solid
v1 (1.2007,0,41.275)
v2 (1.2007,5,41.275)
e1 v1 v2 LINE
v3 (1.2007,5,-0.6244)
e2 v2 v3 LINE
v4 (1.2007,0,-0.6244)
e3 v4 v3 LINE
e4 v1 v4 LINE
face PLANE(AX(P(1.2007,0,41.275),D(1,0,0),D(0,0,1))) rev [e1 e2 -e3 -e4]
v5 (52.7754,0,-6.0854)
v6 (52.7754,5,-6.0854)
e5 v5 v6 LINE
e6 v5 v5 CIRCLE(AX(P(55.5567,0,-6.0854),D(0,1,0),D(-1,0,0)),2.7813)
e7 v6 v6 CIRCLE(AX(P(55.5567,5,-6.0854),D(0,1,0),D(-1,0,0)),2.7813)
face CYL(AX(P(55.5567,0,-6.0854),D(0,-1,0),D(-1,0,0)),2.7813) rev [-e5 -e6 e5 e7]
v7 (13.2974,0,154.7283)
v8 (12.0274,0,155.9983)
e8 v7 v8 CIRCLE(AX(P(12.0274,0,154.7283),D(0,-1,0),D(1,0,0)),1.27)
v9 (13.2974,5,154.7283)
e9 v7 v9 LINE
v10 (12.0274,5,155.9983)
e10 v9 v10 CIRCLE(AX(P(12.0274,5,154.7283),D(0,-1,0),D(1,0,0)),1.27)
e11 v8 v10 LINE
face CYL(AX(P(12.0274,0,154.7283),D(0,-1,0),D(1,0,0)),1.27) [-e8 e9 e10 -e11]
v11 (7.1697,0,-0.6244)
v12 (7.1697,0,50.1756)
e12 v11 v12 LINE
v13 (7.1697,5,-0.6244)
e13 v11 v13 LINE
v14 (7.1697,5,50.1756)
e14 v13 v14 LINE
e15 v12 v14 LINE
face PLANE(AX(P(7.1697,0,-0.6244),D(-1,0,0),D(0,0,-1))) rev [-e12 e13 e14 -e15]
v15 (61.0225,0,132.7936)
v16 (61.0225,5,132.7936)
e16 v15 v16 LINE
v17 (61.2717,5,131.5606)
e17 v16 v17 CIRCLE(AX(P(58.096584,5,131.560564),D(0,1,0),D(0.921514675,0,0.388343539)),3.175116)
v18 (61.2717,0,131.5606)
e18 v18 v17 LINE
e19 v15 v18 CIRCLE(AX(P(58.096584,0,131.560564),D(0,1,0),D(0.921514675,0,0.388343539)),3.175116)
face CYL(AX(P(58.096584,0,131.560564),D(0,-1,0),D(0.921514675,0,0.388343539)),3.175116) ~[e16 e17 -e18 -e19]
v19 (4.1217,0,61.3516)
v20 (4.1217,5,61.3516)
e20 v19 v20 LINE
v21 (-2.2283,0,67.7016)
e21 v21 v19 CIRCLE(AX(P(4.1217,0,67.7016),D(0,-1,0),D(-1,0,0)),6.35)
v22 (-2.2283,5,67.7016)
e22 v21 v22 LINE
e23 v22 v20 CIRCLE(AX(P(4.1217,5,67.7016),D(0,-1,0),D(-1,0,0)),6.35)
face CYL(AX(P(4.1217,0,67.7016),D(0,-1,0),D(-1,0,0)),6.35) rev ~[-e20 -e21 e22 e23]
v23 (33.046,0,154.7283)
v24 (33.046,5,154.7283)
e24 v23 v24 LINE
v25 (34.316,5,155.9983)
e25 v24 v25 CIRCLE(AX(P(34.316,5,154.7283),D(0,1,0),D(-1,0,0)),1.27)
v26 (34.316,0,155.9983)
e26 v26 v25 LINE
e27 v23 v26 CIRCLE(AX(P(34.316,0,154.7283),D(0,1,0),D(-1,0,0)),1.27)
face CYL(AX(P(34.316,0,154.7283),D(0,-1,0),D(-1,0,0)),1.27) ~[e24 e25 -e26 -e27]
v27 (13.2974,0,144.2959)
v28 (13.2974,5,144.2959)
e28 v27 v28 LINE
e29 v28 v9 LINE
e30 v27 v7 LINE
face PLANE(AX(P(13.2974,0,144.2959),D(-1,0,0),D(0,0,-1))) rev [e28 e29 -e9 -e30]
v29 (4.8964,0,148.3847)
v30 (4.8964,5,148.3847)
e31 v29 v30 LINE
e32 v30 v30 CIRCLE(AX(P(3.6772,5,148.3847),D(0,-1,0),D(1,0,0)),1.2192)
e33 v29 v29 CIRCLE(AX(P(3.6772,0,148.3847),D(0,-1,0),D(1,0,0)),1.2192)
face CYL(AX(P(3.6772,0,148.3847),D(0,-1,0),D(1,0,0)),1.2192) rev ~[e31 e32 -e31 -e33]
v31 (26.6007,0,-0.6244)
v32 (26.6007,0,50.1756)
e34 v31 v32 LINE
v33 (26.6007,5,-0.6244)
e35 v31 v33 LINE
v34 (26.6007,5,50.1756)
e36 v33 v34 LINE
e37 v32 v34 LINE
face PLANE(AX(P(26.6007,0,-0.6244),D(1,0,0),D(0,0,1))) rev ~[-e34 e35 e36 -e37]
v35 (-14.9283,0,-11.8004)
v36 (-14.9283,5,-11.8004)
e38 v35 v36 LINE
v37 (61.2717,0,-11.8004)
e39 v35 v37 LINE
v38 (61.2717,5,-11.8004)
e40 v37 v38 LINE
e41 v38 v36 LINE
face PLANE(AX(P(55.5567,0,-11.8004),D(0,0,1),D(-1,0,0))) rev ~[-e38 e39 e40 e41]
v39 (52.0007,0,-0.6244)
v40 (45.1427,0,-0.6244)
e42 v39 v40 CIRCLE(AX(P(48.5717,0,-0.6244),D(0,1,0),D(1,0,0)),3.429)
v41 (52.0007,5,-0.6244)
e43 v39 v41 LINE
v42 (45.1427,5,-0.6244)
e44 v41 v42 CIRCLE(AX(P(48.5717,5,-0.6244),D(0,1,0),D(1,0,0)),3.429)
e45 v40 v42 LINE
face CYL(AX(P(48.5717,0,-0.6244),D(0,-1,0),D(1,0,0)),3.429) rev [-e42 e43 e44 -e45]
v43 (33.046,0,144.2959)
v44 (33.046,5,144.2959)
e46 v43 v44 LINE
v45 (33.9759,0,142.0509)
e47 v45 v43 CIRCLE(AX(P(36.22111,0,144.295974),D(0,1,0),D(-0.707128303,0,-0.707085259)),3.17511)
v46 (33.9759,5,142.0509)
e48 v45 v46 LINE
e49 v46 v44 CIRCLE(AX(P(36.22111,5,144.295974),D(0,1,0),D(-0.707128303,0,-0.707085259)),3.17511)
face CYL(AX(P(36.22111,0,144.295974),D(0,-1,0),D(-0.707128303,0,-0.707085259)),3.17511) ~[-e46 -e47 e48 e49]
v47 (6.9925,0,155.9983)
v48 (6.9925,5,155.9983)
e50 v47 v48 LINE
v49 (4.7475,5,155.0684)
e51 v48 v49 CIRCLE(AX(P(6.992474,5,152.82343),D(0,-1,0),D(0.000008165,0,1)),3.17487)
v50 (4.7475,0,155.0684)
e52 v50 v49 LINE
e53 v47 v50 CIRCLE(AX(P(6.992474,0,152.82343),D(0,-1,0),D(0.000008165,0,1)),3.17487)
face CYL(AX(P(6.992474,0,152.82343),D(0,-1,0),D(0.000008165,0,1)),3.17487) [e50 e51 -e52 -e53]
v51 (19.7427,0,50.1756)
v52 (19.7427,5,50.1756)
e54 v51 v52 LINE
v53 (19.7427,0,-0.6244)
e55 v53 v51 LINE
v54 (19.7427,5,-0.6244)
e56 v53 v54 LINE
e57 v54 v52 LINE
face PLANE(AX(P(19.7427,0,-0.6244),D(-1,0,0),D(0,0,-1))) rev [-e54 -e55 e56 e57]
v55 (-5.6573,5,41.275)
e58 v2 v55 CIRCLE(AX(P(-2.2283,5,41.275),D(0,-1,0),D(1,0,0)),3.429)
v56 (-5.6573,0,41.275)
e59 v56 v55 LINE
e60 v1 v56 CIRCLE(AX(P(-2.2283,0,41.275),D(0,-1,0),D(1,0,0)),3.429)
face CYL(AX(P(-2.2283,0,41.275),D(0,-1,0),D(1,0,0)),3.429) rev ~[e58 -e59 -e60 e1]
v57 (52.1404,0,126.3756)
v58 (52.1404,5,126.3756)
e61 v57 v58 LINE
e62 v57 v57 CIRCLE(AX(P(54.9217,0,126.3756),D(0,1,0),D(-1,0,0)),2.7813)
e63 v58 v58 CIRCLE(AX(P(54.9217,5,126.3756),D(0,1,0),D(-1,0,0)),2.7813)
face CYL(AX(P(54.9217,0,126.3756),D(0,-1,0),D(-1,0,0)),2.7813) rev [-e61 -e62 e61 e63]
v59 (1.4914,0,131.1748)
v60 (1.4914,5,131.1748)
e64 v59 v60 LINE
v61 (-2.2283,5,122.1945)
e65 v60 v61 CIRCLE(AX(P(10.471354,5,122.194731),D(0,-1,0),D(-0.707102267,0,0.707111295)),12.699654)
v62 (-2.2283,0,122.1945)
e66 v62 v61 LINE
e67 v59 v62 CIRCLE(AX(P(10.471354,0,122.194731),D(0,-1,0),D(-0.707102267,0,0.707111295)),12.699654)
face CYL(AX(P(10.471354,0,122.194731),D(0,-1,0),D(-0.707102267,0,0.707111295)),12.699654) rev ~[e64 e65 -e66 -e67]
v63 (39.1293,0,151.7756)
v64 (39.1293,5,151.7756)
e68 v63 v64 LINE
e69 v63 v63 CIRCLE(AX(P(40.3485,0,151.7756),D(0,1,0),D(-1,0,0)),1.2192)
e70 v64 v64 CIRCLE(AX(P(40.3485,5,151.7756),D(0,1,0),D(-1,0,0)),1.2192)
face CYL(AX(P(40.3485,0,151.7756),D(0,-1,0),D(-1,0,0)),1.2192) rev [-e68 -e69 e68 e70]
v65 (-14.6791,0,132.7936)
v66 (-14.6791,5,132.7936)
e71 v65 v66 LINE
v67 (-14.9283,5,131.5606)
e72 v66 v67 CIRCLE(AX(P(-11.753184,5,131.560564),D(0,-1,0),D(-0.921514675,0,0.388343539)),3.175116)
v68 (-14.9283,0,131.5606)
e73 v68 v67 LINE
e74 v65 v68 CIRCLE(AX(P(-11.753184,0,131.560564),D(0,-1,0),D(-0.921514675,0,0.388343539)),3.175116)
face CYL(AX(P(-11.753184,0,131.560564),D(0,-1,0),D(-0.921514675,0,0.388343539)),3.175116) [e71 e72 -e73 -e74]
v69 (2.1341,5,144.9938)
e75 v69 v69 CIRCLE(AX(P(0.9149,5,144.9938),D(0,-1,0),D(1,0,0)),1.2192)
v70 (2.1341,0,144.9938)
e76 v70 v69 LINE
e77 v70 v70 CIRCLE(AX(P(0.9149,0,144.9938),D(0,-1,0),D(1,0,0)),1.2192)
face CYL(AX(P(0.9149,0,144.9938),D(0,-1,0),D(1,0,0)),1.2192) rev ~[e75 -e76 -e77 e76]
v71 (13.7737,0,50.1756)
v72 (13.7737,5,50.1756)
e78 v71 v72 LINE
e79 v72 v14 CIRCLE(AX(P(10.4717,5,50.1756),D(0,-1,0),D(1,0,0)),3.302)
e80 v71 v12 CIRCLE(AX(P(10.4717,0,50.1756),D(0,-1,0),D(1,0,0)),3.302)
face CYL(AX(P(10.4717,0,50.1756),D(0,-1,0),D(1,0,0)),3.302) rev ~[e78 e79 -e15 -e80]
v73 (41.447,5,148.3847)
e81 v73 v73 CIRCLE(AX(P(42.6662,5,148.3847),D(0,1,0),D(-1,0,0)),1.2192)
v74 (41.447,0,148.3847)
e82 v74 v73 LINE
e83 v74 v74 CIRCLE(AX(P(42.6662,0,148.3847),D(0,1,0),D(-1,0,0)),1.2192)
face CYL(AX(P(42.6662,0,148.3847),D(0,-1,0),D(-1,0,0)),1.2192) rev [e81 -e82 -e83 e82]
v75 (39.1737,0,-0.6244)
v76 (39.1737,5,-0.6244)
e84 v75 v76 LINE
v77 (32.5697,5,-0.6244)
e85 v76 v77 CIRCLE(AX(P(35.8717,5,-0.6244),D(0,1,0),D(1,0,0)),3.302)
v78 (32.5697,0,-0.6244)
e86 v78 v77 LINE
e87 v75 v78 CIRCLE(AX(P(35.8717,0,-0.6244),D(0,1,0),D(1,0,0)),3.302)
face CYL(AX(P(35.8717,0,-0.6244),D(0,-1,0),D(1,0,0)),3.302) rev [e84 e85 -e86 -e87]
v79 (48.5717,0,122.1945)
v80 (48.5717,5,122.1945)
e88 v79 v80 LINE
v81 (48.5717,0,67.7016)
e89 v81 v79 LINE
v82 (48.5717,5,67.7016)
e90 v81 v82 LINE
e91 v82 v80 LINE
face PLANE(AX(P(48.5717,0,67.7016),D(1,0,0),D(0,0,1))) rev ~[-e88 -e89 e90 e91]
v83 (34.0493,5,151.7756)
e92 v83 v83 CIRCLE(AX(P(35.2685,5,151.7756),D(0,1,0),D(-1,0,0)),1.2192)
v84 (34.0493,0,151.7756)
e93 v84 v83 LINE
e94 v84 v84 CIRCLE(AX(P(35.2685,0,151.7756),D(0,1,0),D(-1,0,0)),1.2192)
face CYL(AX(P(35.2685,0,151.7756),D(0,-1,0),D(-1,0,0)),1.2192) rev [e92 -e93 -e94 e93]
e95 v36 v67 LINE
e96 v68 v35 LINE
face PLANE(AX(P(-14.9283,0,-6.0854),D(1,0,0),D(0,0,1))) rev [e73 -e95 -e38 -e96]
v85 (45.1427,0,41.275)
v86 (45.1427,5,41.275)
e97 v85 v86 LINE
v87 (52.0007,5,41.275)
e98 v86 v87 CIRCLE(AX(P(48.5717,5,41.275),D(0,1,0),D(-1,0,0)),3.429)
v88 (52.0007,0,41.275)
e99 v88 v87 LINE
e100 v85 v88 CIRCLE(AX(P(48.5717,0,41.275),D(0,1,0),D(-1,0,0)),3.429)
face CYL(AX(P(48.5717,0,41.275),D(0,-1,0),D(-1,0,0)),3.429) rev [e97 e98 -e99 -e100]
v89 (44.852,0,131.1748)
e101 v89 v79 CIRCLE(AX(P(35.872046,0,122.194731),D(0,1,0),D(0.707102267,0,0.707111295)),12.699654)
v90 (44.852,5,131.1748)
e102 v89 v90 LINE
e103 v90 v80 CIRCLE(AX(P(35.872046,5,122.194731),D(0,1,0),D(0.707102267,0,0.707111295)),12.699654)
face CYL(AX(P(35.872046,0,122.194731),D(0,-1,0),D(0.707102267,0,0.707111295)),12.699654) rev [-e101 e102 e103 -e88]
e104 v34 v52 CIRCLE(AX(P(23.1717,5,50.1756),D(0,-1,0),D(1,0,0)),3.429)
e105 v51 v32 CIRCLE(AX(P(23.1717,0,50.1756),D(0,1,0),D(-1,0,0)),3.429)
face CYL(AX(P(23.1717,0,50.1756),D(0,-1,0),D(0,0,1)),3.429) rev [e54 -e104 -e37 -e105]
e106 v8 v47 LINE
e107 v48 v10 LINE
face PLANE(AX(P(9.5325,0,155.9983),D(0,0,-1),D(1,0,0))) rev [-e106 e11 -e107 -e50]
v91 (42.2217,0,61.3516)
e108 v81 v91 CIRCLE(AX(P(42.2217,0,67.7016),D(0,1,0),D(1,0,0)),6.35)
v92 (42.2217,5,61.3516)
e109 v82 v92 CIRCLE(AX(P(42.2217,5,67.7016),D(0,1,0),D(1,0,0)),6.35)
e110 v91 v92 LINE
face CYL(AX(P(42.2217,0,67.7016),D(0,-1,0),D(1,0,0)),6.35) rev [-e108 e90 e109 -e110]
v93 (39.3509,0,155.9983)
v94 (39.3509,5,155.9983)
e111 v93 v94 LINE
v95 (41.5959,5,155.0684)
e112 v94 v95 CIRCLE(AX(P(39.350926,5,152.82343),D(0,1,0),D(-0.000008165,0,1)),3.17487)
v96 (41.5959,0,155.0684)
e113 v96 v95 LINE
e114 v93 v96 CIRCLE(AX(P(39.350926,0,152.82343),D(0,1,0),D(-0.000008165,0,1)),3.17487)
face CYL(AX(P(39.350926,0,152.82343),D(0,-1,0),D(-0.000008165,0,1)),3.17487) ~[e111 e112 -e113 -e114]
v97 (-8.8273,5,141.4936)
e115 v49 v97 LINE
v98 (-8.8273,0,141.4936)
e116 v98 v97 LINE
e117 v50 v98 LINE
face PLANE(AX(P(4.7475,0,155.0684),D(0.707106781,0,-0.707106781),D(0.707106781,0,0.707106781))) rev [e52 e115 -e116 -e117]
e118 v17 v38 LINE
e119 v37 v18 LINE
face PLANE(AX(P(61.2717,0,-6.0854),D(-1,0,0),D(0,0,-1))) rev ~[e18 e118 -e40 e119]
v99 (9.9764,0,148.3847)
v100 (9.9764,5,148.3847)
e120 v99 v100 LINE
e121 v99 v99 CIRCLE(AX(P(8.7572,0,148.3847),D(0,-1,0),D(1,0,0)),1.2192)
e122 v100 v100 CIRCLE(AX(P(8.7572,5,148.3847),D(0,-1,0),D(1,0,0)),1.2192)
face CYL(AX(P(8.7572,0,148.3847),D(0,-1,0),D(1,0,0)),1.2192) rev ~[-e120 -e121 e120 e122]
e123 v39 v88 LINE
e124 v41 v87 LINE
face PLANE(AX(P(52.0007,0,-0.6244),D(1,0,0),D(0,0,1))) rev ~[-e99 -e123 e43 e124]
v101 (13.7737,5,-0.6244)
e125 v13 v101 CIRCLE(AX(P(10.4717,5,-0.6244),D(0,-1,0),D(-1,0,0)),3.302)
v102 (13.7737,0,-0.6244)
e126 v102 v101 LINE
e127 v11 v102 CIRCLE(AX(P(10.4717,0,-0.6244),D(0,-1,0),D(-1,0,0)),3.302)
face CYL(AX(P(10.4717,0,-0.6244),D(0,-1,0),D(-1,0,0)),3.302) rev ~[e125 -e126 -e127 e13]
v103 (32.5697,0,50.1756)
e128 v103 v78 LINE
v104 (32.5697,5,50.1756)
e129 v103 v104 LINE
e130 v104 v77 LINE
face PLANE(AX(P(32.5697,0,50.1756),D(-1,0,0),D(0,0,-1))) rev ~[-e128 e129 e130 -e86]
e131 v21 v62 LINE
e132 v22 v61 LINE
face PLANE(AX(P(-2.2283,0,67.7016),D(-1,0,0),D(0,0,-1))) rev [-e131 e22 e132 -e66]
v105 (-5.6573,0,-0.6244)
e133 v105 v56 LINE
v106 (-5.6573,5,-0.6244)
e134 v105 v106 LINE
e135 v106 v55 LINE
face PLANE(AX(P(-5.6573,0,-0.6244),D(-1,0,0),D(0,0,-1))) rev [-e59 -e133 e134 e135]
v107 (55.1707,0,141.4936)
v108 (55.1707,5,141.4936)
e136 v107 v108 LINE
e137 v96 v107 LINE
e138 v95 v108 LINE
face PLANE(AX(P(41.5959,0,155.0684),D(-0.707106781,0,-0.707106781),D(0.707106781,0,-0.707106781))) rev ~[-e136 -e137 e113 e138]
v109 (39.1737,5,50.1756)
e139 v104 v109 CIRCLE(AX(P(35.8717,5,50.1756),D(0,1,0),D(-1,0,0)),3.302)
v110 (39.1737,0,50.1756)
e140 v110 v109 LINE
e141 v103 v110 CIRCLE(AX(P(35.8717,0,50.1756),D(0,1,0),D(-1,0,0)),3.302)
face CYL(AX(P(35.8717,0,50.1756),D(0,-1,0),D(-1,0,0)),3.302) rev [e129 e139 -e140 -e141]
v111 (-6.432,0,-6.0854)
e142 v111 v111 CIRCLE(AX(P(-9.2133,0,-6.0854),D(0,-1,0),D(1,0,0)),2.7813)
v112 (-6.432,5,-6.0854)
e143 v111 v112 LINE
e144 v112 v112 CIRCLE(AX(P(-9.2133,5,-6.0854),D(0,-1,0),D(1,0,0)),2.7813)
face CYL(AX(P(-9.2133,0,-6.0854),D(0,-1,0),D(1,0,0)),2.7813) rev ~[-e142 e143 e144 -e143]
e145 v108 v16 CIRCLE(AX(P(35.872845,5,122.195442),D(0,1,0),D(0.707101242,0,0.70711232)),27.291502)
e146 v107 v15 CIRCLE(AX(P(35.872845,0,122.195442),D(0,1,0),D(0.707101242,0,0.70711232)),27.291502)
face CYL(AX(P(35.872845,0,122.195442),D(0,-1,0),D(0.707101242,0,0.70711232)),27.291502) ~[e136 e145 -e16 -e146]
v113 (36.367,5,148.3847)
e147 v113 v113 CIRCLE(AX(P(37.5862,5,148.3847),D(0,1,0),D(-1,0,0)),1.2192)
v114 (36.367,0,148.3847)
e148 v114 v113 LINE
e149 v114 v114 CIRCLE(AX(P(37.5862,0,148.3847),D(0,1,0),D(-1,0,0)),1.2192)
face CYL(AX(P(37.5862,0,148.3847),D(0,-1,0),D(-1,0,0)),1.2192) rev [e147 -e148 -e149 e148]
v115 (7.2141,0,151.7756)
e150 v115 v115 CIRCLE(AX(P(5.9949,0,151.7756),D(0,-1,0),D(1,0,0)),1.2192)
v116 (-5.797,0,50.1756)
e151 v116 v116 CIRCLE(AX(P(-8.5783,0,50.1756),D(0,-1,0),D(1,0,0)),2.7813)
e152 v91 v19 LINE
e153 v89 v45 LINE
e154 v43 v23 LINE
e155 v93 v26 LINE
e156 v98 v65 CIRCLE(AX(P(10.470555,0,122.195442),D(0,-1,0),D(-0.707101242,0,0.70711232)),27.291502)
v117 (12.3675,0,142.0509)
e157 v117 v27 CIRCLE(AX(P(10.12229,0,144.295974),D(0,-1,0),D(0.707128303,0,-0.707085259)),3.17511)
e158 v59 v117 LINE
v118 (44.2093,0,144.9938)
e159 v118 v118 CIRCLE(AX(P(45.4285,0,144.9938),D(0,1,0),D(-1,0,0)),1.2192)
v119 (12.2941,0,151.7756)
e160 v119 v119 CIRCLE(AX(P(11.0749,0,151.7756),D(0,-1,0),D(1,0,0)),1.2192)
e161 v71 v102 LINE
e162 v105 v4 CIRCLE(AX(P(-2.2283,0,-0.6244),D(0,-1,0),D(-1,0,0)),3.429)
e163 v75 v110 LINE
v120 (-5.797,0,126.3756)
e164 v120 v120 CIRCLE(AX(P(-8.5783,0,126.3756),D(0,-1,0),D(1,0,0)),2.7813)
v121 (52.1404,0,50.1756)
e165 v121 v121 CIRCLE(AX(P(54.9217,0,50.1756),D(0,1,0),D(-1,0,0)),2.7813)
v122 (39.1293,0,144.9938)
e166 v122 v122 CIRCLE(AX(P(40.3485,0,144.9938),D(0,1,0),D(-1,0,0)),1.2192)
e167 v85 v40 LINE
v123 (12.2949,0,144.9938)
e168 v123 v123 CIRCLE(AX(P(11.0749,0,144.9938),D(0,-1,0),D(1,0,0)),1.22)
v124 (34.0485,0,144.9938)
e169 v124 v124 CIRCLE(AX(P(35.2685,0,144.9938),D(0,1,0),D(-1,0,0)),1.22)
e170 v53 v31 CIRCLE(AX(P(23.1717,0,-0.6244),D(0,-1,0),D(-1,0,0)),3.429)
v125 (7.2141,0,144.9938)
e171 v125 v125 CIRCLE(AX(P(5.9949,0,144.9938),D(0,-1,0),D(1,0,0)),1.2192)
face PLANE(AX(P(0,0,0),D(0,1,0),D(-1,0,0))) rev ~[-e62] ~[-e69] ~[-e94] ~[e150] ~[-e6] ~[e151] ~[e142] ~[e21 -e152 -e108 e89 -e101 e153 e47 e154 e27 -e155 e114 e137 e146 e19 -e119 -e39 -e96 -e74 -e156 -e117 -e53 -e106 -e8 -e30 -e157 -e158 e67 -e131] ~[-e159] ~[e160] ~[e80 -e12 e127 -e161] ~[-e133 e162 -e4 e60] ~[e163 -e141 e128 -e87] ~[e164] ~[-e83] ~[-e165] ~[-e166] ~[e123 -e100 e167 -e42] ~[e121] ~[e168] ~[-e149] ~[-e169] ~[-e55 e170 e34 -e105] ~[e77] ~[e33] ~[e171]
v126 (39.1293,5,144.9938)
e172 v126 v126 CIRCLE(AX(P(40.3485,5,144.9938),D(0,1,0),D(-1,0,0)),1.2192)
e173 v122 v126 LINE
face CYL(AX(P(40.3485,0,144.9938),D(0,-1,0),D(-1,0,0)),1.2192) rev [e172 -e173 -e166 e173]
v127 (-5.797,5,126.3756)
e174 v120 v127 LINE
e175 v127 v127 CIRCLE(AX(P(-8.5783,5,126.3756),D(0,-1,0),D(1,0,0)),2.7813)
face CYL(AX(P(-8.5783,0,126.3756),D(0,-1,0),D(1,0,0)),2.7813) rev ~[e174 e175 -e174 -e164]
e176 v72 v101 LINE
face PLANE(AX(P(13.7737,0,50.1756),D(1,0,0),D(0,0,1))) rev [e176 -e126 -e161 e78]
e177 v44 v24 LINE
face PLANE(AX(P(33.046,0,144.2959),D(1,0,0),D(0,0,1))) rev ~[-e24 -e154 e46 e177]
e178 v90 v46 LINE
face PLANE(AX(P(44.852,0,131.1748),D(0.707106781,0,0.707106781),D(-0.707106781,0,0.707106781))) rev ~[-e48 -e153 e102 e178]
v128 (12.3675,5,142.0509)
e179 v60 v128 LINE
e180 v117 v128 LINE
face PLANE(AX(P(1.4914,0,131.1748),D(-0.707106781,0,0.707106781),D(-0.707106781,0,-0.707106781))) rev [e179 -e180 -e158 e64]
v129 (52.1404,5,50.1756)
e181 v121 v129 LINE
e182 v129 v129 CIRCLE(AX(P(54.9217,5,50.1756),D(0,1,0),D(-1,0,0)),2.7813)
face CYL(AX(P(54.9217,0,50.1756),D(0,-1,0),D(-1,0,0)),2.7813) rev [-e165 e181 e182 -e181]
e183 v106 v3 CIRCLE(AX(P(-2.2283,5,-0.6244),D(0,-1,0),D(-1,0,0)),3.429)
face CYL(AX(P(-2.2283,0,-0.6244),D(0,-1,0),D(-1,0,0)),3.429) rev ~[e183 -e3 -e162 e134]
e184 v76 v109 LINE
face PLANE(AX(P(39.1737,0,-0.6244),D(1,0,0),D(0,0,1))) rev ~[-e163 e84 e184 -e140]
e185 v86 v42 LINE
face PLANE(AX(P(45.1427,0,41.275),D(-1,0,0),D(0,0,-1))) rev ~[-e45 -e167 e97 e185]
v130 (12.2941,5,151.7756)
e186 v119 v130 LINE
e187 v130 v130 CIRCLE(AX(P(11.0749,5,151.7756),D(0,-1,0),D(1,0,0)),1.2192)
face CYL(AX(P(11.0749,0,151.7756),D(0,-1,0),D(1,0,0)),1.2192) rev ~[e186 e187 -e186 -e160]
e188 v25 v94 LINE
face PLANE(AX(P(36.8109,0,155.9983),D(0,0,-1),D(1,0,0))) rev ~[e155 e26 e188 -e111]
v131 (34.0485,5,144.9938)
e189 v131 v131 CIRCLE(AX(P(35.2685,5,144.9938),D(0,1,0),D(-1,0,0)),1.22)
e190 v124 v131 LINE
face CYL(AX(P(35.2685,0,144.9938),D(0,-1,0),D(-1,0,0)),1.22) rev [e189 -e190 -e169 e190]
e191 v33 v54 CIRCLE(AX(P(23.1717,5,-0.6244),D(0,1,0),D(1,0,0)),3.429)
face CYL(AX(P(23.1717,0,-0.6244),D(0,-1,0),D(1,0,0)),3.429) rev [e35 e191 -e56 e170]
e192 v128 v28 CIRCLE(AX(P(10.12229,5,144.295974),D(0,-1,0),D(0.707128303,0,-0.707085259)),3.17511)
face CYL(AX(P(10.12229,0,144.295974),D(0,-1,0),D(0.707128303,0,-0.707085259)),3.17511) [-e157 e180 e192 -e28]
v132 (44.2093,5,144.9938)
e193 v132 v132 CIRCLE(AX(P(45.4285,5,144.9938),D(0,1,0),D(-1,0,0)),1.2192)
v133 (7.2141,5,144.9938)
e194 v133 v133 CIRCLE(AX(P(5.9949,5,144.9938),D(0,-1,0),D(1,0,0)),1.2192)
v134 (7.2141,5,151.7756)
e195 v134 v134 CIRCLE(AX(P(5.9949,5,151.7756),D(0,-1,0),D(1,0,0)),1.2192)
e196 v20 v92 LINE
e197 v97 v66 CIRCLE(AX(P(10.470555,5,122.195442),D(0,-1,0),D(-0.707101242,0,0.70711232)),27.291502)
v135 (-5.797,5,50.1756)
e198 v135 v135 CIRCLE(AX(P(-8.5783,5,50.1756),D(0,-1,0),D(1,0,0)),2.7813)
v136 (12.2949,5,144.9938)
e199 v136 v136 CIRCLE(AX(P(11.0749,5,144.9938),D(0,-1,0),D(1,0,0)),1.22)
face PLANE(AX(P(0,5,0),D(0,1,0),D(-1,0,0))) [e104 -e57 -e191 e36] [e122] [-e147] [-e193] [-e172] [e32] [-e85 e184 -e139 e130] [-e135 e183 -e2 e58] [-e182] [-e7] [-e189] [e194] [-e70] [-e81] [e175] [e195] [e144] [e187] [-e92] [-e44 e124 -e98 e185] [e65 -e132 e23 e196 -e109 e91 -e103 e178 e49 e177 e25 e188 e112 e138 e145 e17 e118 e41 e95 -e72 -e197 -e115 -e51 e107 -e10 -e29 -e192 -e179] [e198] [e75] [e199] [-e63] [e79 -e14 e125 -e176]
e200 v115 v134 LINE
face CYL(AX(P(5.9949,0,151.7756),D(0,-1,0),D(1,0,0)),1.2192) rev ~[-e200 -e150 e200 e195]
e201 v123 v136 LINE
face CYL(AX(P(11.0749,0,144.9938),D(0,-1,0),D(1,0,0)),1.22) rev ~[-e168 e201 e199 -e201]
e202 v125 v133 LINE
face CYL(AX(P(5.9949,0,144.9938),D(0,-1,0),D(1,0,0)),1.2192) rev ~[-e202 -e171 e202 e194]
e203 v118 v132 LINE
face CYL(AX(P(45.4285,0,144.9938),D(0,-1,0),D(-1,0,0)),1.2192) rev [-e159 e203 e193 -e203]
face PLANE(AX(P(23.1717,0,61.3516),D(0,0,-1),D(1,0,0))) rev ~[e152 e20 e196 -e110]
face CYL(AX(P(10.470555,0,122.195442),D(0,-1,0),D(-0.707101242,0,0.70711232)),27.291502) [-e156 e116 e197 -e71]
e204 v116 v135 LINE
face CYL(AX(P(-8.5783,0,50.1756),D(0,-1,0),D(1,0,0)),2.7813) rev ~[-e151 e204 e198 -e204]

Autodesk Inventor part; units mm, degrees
ref_plane "YZ Plane" through (0, 0, 0) normal (1, 0, 0) x (0, 1, 0)
ref_plane "XZ Plane" through (0, 0, 0) normal (0, 1, 0) x (-1, 0, 0)
ref_plane "XY Plane" through (0, 0, 0) normal (0, 0, 1) x (1, 0, 0)
sketch "Sketch1" plane through (0, 0, 0) normal (0, 1, 0) x (-1, 0, 0)
  line L0 (-45.1427, 41.275) -> (-45.1427, -0.6244)
  arc A0 (-52.0007, -0.6244) -> (-45.1427, -0.6244) centre (-48.5717, -0.6244) ccw
  line L1 (-52.0007, -0.6244) -> (-52.0007, 41.275)
  arc A1 (-45.1427, 41.275) -> (-52.0007, 41.275) centre (-48.5717, 41.275) ccw
  arc A2 (-26.6007, -0.6244) -> (-23.1717, -4.0534) centre (-23.1717, -0.6244) ccw
  line L2 (-26.6007, -0.6244) -> (-26.6007, 50.1756)
  arc A3 (-23.1717, 53.6046) -> (-26.6007, 50.1756) centre (-23.1717, 50.1756) ccw
  arc A4 (-32.5697, 50.1756) -> (-39.1737, 50.1756) centre (-35.8717, 50.1756) ccw
  line L3 (-32.5697, 50.1756) -> (-32.5697, -0.6244)
  arc A5 (-39.1737, -0.6244) -> (-32.5697, -0.6244) centre (-35.8717, -0.6244) ccw
  line L4 (-39.1737, -0.6244) -> (-39.1737, 50.1756)
  line L5 (-23.1717, 61.3516) -> (-42.2217, 61.3516)
  arc A6 (-48.5717, 67.7016) -> (-42.2217, 61.3516) centre (-42.2217, 67.7016) ccw
  line L6 (-48.5717, 67.7016) -> (-48.5717, 122.1945)
  arc A7 (-44.852, 131.1748) -> (-48.5717, 122.1945) centre (-35.8717, 122.1945) ccw
  line L7 (-44.852, 131.1748) -> (-33.9759, 142.0509)
  arc A8 (-33.9759, 142.0509) -> (-33.046, 144.2959) centre (-36.221, 144.2959) ccw
  line L8 (-33.046, 144.2959) -> (-33.046, 154.7283)
  arc A9 (-33.046, 154.7283) -> (-34.316, 155.9983) centre (-34.316, 154.7283) ccw
  line L9 (-34.316, 155.9983) -> (-36.8109, 155.9983)
  line L10 (-61.2717, 122.3315) -> (-61.2717, -11.8004)
  line L11 (-61.2717, -11.8004) -> (-23.1717, -11.8004)
  circle A10 centre (-35.2685, 151.7756) radius 1.1303 construction
  circle A11 centre (-37.5862, 148.3847) radius 1.1303 construction
  circle A12 centre (-40.3485, 144.9938) radius 1.1303 construction
  circle A13 centre (-40.3485, 151.7756) radius 1.1303 construction
  circle A14 centre (-40.3485, 144.9938) radius 1.1303 construction
  circle A15 centre (-42.6662, 148.3847) radius 1.1303 construction
  circle A16 centre (-45.4285, 144.9938) radius 1.1303 construction
  line L12 (-34.316, 155.9983) -> (-39.3509, 155.9983)
  line L13 (-41.5959, 155.0684) -> (-55.1707, 141.4936)
  line L14 (-61.2717, 122.3315) -> (-61.2717, 131.5606)
  arc A17 (-55.1707, 141.4936) -> (-61.0225, 132.7936) centre (-35.8717, 122.1945) ccw
  arc A18 (-39.3509, 155.9983) -> (-41.5959, 155.0684) centre (-39.3509, 152.8233) ccw
  arc A19 (-61.0225, 132.7936) -> (-61.2717, 131.5606) centre (-58.0967, 131.5606) ccw
  line L15 (-23.1717, 61.3516) -> (-23.1717, 53.6046)
  line L16 (-23.1717, -4.0534) -> (-23.1717, -11.8004)
  circle A20 centre (-35.2685, 144.9938) radius 1.22
  circle A21 centre (-35.2685, 151.7756) radius 1.2192
  circle A22 centre (-37.5862, 148.3847) radius 1.2192
  circle A23 centre (-40.3485, 151.7756) radius 1.2192
  circle A24 centre (-42.6662, 148.3847) radius 1.2192
  circle A25 centre (-40.3485, 144.9938) radius 1.2192
  circle A26 centre (-45.4285, 144.9938) radius 1.2192
  line L17 (-54.9217, 50.1756) -> (-54.9217, 126.3756) construction
  circle A27 centre (-54.9217, 126.3756) radius 2.7813
  circle A28 centre (-54.9217, 50.1756) radius 2.7813
  line L18 (-61.2717, -11.8004) -> (-55.5567, -11.8004)
  line L19 (-55.5567, -11.8004) -> (-55.5567, -6.0854) construction
  line L20 (-55.5567, -6.0854) -> (-61.2717, -6.0854) construction
  line L21 (-61.2717, -6.0854) -> (-61.2717, -11.8004)
  circle A29 centre (-55.5567, -6.0854) radius 2.7813
  point P0 (-41.301, 144.2959)
  point P1 (-41.8909, 152.8233)
  point P2 (-61.2717, 132.1817)
  point P3 (-26.6007, -0.6244)
  point P4 (-32.5697, -0.6244)
  point P5 (-52.0007, -0.6244)
  point P6 (-45.1427, -0.6244)
  dimension "d2" = 3.175
  dimension "d12" = 2.44
  dimension "d13" = 2.4384
  dimension "d14" = 2.4384
  dimension "d15" = 2.4384
  dimension "d16" = 2.4384
  dimension "d17" = 2.4384
  dimension "d18" = 2.4384
  dimension "d19" = 76.2
  dimension "d20" = 5.5626
  dimension "d21" = 5.5626
  dimension "d23" = 5.715
  dimension "d24" = 5.715
  dimension "d25" = 5.5626
extrude "Extrusion3" add sketch "Sketch1" along normal blind 5
mirror "Mirror2" about plane through (23.1717, 0, 53.6046) normal (-1, 0, 0)
properties part number "twoSidedHeadplateHolder_wide_sendcutsend"
